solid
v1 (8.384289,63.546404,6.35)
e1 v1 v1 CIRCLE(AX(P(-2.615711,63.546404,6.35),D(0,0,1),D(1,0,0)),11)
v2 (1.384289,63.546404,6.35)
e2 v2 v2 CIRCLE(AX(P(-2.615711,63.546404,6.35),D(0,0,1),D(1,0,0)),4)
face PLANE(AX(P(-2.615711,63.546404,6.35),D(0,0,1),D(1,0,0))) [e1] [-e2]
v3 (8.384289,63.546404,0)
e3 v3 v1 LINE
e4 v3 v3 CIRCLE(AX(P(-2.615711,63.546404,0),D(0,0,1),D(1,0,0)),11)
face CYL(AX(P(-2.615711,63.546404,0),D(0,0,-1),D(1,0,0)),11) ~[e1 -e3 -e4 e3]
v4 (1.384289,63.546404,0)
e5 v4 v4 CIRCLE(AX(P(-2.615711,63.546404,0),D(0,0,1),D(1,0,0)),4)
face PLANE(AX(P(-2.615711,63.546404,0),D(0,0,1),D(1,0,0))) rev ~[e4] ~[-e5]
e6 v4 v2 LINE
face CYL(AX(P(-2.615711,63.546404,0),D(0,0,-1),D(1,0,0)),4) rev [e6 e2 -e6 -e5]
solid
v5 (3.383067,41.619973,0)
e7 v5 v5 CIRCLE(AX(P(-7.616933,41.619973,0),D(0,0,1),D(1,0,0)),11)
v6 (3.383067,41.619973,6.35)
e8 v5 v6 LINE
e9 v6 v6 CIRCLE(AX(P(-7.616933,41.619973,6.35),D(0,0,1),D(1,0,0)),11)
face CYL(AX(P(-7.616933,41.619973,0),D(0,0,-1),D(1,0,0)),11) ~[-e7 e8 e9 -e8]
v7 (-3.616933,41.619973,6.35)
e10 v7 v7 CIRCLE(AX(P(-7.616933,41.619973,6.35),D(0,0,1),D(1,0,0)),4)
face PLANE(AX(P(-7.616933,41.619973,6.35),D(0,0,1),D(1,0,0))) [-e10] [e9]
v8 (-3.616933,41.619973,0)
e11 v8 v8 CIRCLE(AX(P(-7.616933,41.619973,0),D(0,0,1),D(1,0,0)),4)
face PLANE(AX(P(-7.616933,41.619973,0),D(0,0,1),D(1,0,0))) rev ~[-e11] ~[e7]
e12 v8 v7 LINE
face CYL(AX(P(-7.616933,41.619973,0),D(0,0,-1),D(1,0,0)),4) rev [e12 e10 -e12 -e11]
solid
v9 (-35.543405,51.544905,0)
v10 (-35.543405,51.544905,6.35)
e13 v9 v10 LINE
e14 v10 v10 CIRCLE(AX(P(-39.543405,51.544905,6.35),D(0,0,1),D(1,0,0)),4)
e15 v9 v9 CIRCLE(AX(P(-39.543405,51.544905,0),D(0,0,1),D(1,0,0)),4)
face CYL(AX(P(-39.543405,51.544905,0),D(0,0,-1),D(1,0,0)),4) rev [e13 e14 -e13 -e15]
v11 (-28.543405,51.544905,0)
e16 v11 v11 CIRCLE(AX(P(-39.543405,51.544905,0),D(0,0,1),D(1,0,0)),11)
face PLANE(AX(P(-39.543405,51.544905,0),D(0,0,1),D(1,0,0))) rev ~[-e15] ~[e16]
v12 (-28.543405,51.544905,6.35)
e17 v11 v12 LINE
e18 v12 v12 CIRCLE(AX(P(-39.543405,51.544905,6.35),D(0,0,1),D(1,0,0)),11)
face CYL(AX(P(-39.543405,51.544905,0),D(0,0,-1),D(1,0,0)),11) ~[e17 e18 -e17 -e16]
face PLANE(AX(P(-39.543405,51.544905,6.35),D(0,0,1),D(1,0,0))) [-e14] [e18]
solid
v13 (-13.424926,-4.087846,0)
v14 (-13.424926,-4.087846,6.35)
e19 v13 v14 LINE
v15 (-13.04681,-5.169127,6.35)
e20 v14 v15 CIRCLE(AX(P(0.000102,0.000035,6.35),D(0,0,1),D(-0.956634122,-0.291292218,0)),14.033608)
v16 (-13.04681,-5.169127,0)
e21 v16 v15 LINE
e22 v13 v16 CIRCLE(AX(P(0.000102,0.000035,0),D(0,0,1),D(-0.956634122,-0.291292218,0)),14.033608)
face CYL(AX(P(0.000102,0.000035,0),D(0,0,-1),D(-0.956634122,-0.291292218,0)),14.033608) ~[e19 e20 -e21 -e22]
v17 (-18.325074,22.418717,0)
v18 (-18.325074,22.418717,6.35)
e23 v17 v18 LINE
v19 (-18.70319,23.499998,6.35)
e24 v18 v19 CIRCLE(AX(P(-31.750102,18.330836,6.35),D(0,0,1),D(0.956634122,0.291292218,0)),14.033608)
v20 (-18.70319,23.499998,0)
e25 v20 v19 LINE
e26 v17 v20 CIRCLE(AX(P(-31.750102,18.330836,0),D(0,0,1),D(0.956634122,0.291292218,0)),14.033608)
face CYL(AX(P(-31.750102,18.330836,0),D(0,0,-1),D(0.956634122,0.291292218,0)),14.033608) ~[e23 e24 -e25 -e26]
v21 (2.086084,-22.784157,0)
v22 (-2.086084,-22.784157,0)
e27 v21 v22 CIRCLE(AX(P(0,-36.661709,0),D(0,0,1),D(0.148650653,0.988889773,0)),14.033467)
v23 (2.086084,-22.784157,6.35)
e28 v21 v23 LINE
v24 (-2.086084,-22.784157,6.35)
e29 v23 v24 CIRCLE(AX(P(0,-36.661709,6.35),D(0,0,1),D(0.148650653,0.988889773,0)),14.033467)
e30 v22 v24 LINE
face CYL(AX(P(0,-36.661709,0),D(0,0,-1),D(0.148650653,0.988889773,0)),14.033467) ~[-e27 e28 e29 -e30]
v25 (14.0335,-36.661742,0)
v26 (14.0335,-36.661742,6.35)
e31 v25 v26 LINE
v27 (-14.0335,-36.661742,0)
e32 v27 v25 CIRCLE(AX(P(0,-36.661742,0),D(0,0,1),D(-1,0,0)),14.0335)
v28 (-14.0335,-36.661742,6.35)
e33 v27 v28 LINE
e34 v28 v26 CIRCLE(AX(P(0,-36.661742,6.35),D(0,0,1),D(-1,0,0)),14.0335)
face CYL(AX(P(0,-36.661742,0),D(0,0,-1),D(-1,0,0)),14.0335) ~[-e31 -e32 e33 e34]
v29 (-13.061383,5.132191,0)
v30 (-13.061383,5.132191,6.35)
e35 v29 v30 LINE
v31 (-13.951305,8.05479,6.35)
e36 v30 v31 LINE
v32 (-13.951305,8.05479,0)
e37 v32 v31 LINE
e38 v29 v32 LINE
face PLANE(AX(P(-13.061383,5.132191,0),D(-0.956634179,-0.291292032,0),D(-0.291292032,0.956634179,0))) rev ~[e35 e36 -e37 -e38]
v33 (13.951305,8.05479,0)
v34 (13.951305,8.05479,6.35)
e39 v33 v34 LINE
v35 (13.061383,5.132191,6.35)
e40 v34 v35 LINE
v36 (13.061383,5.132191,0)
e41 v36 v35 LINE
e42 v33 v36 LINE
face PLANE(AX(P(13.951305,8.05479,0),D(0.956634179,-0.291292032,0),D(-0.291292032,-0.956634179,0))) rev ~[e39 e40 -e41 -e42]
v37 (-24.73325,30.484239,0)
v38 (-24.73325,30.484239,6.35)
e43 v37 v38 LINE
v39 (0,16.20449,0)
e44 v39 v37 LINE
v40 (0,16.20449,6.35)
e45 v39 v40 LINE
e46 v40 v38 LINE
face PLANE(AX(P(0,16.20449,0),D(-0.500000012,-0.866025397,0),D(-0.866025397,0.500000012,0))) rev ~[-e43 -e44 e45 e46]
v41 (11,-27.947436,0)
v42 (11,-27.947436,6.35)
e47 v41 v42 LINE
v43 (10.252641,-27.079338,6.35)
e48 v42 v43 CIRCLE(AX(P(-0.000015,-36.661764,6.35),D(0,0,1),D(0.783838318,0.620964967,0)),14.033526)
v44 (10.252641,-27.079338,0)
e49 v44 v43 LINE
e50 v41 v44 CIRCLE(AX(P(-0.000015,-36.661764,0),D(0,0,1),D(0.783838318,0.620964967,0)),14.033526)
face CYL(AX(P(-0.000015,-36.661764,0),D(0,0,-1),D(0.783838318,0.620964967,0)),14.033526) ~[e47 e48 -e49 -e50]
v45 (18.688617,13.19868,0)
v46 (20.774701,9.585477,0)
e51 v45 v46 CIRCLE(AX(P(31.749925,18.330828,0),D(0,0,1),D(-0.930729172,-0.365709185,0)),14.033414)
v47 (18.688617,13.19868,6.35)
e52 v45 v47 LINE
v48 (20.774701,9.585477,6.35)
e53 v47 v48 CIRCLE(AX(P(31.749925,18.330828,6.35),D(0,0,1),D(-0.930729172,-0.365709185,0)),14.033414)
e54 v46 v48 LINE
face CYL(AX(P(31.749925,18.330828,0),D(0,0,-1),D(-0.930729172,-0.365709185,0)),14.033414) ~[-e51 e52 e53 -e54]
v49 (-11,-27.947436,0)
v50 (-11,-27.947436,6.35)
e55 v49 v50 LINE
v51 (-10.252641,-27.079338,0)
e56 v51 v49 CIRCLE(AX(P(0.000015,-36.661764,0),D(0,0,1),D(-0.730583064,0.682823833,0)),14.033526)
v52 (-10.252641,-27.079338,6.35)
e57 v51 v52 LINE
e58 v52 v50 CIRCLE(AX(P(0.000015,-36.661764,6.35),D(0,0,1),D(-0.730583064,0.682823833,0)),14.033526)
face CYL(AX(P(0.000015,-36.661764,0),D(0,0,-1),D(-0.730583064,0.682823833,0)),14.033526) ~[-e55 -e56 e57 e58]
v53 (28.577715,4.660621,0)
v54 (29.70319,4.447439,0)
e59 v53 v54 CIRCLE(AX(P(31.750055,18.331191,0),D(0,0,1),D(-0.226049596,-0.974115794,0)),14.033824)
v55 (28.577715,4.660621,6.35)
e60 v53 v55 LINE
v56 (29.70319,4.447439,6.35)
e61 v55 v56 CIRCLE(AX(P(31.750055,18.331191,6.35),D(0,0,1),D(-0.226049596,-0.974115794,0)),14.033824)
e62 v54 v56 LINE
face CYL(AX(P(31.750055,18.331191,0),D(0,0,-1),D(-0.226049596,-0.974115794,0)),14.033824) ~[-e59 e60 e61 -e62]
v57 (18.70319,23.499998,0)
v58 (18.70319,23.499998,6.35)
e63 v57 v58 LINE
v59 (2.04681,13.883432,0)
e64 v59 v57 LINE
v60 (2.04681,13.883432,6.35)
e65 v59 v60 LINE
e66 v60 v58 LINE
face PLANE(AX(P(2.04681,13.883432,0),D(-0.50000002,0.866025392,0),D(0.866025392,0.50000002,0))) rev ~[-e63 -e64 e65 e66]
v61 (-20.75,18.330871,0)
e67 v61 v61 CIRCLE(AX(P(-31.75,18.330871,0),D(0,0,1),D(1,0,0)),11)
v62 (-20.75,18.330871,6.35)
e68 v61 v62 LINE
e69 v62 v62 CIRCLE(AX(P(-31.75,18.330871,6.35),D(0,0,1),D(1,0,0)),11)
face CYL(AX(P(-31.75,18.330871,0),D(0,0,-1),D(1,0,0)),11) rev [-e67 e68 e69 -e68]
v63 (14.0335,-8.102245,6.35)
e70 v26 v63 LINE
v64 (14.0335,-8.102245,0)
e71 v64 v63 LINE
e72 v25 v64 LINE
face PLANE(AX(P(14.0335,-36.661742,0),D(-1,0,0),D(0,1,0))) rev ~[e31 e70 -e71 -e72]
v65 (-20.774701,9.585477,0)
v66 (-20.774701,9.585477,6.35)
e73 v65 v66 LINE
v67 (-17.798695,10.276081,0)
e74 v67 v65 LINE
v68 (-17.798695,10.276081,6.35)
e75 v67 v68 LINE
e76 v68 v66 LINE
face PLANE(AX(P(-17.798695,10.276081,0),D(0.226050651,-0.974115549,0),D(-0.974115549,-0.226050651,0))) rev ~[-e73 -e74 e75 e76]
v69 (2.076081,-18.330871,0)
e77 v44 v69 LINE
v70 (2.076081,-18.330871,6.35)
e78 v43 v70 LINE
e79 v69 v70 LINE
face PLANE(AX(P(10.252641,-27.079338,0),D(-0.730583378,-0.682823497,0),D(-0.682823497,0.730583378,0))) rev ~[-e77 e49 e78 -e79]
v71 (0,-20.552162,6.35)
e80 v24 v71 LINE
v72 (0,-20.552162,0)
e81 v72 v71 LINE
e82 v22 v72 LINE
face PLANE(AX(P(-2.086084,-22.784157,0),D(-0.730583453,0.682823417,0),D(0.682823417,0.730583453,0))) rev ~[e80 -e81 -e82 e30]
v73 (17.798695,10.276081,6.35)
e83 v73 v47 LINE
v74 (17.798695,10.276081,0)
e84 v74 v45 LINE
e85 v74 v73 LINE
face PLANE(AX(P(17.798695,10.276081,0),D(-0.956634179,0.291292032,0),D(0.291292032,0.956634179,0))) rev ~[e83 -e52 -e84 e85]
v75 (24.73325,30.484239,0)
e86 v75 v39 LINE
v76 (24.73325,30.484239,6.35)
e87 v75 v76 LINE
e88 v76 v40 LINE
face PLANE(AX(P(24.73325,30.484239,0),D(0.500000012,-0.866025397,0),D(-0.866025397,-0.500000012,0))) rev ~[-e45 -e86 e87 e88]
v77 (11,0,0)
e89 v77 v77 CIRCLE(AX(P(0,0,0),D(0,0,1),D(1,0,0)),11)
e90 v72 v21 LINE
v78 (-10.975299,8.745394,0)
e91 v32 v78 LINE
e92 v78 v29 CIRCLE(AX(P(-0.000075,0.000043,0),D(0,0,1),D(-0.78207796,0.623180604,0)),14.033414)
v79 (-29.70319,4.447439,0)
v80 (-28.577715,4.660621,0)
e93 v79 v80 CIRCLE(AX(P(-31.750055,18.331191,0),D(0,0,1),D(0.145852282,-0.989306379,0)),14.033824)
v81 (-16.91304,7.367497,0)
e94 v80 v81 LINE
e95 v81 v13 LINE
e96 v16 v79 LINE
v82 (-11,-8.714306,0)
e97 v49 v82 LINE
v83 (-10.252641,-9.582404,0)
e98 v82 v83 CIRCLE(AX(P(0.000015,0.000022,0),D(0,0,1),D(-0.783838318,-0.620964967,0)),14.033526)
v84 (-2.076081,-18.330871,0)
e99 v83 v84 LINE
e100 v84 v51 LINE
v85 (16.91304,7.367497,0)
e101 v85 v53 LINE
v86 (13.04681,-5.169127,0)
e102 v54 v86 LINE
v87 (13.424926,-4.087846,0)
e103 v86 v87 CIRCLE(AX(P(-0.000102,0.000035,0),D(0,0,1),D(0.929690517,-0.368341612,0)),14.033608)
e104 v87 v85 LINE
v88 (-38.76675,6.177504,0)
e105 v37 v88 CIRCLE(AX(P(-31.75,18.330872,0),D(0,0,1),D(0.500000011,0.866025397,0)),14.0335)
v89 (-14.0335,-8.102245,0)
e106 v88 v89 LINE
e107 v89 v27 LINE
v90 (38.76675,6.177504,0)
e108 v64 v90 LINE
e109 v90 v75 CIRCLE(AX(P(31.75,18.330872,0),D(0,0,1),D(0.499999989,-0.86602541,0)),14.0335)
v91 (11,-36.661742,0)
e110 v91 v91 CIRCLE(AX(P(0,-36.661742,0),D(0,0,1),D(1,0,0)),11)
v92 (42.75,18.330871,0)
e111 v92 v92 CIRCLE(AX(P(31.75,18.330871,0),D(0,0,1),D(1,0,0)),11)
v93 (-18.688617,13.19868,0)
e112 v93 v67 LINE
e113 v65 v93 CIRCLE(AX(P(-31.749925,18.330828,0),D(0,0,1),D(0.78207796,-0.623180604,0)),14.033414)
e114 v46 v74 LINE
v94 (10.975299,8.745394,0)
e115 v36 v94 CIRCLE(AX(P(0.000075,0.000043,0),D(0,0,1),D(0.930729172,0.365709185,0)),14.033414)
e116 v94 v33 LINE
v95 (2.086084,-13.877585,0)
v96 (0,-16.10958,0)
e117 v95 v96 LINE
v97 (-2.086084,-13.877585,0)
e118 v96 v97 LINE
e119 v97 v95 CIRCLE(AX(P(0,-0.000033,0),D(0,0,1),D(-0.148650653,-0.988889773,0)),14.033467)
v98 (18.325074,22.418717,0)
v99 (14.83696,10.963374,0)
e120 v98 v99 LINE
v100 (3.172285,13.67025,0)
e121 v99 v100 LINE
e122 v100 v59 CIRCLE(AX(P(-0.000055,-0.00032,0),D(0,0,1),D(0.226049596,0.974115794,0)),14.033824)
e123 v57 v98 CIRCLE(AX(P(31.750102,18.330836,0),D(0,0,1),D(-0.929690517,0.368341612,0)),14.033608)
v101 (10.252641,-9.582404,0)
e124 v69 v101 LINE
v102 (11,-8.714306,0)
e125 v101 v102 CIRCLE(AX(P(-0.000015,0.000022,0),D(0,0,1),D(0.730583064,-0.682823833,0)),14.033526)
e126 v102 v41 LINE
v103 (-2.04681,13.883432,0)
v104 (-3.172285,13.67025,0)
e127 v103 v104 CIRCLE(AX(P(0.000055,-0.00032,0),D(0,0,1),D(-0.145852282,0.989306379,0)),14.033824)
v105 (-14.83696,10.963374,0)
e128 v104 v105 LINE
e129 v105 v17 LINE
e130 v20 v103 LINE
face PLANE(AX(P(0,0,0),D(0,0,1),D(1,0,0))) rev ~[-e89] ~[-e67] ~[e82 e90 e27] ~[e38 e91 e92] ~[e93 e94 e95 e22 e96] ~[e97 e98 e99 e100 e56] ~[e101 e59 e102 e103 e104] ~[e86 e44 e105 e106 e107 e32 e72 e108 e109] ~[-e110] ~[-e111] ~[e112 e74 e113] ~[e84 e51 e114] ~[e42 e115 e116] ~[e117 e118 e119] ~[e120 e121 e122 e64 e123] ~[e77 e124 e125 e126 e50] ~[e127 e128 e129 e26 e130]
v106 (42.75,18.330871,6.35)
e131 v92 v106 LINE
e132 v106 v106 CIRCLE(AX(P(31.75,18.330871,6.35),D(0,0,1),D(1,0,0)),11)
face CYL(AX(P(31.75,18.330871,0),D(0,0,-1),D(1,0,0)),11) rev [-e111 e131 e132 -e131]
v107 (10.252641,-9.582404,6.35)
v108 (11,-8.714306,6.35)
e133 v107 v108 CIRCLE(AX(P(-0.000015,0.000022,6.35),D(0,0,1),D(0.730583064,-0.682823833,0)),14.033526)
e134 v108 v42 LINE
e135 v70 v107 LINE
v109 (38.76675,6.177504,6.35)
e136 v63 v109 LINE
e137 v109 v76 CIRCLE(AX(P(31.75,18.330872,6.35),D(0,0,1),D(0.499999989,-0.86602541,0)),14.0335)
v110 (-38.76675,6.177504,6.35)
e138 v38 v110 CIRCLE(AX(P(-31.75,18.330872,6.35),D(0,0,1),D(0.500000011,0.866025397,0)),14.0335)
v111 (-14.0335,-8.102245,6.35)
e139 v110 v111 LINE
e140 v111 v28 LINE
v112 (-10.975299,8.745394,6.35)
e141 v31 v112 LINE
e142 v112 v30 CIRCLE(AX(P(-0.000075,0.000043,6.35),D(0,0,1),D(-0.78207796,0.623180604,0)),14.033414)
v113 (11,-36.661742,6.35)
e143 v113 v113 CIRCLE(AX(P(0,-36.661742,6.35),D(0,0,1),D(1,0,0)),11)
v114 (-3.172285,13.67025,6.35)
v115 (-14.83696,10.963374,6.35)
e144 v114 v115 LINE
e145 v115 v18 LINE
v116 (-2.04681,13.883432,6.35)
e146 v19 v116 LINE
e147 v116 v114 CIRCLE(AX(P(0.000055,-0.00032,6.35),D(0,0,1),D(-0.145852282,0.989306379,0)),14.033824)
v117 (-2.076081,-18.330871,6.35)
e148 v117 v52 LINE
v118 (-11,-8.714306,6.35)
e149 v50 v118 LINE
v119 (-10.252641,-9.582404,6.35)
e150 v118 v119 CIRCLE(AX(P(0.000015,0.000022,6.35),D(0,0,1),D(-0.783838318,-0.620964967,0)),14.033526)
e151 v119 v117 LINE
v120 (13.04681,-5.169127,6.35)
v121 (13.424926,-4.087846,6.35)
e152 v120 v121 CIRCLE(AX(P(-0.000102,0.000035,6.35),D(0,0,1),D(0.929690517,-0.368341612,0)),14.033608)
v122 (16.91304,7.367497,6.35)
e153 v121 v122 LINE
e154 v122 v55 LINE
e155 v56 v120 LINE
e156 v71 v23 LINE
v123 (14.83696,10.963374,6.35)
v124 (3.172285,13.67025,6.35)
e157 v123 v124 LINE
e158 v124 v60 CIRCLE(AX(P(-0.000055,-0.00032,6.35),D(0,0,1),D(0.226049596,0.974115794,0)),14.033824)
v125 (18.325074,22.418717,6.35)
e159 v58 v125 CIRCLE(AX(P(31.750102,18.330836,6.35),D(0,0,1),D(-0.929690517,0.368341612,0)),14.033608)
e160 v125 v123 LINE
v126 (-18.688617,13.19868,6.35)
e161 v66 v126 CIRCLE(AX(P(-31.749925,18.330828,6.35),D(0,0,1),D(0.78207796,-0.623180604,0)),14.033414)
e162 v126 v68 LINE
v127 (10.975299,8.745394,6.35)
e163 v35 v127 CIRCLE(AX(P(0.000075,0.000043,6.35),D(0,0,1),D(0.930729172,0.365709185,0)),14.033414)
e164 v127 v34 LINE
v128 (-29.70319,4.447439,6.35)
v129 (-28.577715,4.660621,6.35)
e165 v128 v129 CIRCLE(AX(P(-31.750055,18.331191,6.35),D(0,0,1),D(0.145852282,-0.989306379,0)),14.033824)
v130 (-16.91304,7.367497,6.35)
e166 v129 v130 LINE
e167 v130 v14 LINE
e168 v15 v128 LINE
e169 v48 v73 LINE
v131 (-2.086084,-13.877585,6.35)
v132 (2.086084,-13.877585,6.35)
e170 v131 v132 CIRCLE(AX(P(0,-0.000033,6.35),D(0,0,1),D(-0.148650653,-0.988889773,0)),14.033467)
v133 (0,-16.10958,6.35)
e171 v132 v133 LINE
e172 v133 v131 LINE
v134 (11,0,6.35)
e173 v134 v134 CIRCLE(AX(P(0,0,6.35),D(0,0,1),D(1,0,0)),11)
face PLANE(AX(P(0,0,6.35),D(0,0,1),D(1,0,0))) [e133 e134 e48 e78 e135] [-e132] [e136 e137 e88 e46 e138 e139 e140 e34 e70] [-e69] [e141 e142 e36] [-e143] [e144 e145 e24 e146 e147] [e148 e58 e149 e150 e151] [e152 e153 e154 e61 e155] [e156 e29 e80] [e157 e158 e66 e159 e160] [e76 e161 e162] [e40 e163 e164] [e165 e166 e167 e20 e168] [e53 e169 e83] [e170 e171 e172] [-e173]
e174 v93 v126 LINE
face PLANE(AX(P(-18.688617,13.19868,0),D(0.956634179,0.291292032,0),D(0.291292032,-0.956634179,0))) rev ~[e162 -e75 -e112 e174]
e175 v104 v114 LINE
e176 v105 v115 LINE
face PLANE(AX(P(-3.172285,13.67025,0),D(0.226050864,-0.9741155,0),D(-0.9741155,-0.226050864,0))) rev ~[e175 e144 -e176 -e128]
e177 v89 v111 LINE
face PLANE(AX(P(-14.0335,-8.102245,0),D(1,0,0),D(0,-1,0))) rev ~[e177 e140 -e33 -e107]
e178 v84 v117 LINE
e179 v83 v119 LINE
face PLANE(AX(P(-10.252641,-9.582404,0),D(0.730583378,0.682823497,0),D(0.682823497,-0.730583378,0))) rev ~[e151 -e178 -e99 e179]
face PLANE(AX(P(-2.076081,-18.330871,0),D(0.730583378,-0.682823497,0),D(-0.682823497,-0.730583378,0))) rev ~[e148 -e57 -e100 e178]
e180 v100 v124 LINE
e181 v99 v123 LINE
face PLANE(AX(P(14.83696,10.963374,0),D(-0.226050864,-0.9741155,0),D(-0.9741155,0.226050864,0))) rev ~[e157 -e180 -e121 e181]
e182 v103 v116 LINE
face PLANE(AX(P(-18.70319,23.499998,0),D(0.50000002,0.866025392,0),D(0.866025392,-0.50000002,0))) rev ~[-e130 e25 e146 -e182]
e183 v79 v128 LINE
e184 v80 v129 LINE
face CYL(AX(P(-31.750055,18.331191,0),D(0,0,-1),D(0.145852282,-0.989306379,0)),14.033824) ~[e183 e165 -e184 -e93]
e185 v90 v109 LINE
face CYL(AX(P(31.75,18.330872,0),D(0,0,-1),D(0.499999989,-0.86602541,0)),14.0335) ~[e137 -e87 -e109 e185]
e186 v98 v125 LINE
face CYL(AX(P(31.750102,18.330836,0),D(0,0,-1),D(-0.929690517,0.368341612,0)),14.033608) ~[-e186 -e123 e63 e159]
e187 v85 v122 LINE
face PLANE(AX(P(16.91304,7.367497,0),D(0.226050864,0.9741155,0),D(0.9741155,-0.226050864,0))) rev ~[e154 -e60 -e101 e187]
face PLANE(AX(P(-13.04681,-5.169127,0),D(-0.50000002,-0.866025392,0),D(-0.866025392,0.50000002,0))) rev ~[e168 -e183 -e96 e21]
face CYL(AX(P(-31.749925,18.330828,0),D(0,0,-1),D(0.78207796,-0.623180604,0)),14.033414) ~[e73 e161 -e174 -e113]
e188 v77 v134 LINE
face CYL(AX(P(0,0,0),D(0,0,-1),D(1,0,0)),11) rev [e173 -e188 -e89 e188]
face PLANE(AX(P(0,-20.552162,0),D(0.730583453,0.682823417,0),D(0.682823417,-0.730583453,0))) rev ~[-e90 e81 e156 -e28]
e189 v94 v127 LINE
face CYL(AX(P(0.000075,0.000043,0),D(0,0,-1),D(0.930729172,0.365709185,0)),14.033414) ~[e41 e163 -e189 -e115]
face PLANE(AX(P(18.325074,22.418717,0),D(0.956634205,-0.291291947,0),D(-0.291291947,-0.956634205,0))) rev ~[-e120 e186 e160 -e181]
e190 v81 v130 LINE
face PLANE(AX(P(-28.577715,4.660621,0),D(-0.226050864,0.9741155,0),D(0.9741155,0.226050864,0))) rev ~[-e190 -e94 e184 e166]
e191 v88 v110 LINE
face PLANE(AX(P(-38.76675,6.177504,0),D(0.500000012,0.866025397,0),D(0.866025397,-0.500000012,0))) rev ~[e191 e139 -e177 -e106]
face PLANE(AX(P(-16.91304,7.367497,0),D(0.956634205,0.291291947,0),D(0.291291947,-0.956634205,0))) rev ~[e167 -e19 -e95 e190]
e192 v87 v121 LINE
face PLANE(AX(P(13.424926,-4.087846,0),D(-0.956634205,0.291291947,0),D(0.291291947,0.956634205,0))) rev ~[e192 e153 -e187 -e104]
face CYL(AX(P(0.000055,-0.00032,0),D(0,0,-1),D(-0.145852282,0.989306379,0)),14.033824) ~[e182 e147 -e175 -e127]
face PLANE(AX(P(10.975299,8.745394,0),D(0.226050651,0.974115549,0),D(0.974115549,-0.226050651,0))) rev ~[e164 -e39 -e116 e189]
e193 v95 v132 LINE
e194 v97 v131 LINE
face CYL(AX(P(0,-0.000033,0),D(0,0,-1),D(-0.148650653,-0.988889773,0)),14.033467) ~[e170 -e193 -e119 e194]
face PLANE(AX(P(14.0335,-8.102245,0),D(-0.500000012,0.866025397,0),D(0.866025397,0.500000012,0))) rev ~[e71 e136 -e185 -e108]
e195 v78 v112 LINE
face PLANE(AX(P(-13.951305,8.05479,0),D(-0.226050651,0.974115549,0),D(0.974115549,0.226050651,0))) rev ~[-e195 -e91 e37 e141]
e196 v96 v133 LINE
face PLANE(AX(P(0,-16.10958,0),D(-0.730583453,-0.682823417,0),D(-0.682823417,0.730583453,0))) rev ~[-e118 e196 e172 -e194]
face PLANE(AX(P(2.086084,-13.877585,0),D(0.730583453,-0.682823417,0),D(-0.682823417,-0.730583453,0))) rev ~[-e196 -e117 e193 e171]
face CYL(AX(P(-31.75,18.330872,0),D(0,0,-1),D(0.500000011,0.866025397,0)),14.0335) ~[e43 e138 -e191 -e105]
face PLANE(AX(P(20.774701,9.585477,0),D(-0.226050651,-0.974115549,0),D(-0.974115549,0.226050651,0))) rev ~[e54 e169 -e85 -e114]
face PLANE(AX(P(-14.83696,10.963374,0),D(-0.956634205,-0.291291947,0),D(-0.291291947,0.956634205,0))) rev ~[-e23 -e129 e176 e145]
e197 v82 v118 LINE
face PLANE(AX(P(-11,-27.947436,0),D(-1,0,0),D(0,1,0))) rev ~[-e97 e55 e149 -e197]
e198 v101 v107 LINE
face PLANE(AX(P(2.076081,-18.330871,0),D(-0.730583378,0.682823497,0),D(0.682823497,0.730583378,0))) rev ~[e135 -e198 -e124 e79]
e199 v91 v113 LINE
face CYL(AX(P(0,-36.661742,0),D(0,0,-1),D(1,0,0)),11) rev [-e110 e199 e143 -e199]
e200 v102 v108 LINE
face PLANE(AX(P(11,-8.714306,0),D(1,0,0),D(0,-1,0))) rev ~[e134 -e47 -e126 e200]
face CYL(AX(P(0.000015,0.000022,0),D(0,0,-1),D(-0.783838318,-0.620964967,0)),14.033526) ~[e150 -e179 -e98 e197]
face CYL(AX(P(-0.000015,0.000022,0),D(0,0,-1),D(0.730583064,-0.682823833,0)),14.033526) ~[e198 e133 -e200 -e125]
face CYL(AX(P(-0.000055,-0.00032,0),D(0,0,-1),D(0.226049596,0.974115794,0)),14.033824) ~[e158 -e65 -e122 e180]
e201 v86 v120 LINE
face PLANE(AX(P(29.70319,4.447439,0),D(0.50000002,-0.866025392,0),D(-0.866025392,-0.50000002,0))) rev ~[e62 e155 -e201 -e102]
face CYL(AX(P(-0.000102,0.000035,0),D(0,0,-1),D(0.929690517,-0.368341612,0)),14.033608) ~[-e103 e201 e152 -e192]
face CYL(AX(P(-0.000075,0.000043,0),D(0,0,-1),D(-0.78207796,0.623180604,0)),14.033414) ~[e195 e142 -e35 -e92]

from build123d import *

# Parameters (mm, degrees)
F0_R     = 11
F0_R_2   = 4
F1_DEPTH = 6.35


with BuildPart() as f1:
    # F0 (on Top) → F1 (new body)
    with BuildSketch(Plane.XY):
        with BuildLine():
            Line((24.73325, 30.484239), (0, 16.20449))
            Line((0, 16.20449), (-24.73325, 30.484239))
            ThreePointArc((-24.73325, 30.484239), (-43.903368, 25.347621), (-38.76675, 6.177504))
            Line((-38.76675, 6.177504), (-14.0335, -8.102245))
            Line((-14.0335, -8.102245), (-14.0335, -36.661742))
            ThreePointArc((-14.0335, -36.661742), (0, -50.695242), (14.0335, -36.661742))
            Line((14.0335, -36.661742), (14.0335, -8.102245))
            Line((14.0335, -8.102245), (38.76675, 6.177504))
            ThreePointArc((38.76675, 6.177504), (43.903368, 25.347621), (24.73325, 30.484239))
        make_face()
        with BuildLine():
            Line((-2.076081, -18.330871), (-10.252641, -27.079338))
            ThreePointArc((-10.252641, -27.079338), (-10.635182, -27.505759), (-11, -27.947436))
            Line((-11, -27.947436), (-11, -8.714306))
            ThreePointArc((-11, -8.714306), (-10.635182, -9.155983), (-10.252641, -9.582404))
            Line((-10.252641, -9.582404), (-2.076081, -18.330871))
        make_face(mode=Mode.SUBTRACT)
        with BuildLine():
            Line((-16.91304, 7.367497), (-13.424926, -4.087846))
            ThreePointArc((-13.424926, -4.087846), (-13.246905, -4.632346), (-13.04681, -5.169127))
            Line((-13.04681, -5.169127), (-29.70319, 4.447439))
            ThreePointArc((-29.70319, 4.447439), (-29.138277, 4.542542), (-28.577715, 4.660621))
            Line((-28.577715, 4.660621), (-16.91304, 7.367497))
        make_face(mode=Mode.SUBTRACT)
        with BuildLine():
            Line((-17.798695, 10.276081), (-20.774701, 9.585477))
            ThreePointArc((-20.774701, 9.585477), (-19.596632, 11.314121), (-18.688617, 13.19868))
            Line((-18.688617, 13.19868), (-17.798695, 10.276081))
        make_face(mode=Mode.SUBTRACT)
        with BuildLine():
            Line((-13.061383, 5.132191), (-13.951305, 8.05479))
            Line((-13.951305, 8.05479), (-10.975299, 8.745394))
            ThreePointArc((-10.975299, 8.745394), (-12.153368, 7.01675), (-13.061383, 5.132191))
        make_face(mode=Mode.SUBTRACT)
        with Locations((0, -36.661742)):
            Circle(F0_R, mode=Mode.SUBTRACT)
        with BuildLine():
            ThreePointArc((2.086084, -22.784157), (0, -22.628242), (-2.086084, -22.784157))
            Line((-2.086084, -22.784157), (0, -20.552162))
            Line((0, -20.552162), (2.086084, -22.784157))
        make_face(mode=Mode.SUBTRACT)
        with BuildLine():
            Line((0, -16.10958), (-2.086084, -13.877585))
            ThreePointArc((-2.086084, -13.877585), (0, -14.0335), (2.086084, -13.877585))
            Line((2.086084, -13.877585), (0, -16.10958))
        make_face(mode=Mode.SUBTRACT)
        with BuildLine():
            Line((11, -8.714306), (11, -27.947436))
            ThreePointArc((11, -27.947436), (10.635182, -27.505759), (10.252641, -27.079338))
            Line((10.252641, -27.079338), (2.076081, -18.330871))
            Line((2.076081, -18.330871), (10.252641, -9.582404))
            ThreePointArc((10.252641, -9.582404), (10.635182, -9.155983), (11, -8.714306))
        make_face(mode=Mode.SUBTRACT)
        Circle(F0_R, mode=Mode.SUBTRACT)
        with BuildLine():
            Line((29.70319, 4.447439), (13.04681, -5.169127))
            ThreePointArc((13.04681, -5.169127), (13.246905, -4.632346), (13.424926, -4.087846))
            Line((13.424926, -4.087846), (16.91304, 7.367497))
            Line((16.91304, 7.367497), (28.577715, 4.660621))
            ThreePointArc((28.577715, 4.660621), (29.138277, 4.542542), (29.70319, 4.447439))
        make_face(mode=Mode.SUBTRACT)
        with BuildLine():
            Line((13.951305, 8.05479), (13.061383, 5.132191))
            ThreePointArc((13.061383, 5.132191), (12.153368, 7.01675), (10.975299, 8.745394))
            Line((10.975299, 8.745394), (13.951305, 8.05479))
        make_face(mode=Mode.SUBTRACT)
        with BuildLine():
            Line((17.798695, 10.276081), (18.688617, 13.19868))
            ThreePointArc((18.688617, 13.19868), (19.596632, 11.314121), (20.774701, 9.585477))
            Line((20.774701, 9.585477), (17.798695, 10.276081))
        make_face(mode=Mode.SUBTRACT)
        with Locations((-31.75, 18.330871)):
            Circle(F0_R, mode=Mode.SUBTRACT)
        with BuildLine():
            Line((-14.83696, 10.963374), (-18.325074, 22.418717))
            ThreePointArc((-18.325074, 22.418717), (-18.503095, 22.963217), (-18.70319, 23.499998))
            Line((-18.70319, 23.499998), (-2.04681, 13.883432))
            ThreePointArc((-2.04681, 13.883432), (-2.611723, 13.788329), (-3.172285, 13.67025))
            Line((-3.172285, 13.67025), (-14.83696, 10.963374))
        make_face(mode=Mode.SUBTRACT)
        with BuildLine():
            ThreePointArc((3.172285, 13.67025), (2.611723, 13.788329), (2.04681, 13.883432))
            Line((2.04681, 13.883432), (18.70319, 23.499998))
            ThreePointArc((18.70319, 23.499998), (18.503095, 22.963217), (18.325074, 22.418717))
            Line((18.325074, 22.418717), (14.83696, 10.963374))
            Line((14.83696, 10.963374), (3.172285, 13.67025))
        make_face(mode=Mode.SUBTRACT)
        with Locations((31.75, 18.330871)):
            Circle(F0_R, mode=Mode.SUBTRACT)
        with Locations((-39.543405, 51.544905)):
            Circle(F0_R)
        with Locations((-39.543405, 51.544905)):
            Circle(F0_R_2, mode=Mode.SUBTRACT)
        with Locations((-7.616933, 41.619973)):
            Circle(F0_R)
        with Locations((-7.616933, 41.619973)):
            Circle(F0_R_2, mode=Mode.SUBTRACT)
        with Locations((-2.615711, 63.546404)):
            Circle(F0_R)
        with Locations((-2.615711, 63.546404)):
            Circle(F0_R_2, mode=Mode.SUBTRACT)
    extrude(amount=F1_DEPTH)


solid = f1.part
